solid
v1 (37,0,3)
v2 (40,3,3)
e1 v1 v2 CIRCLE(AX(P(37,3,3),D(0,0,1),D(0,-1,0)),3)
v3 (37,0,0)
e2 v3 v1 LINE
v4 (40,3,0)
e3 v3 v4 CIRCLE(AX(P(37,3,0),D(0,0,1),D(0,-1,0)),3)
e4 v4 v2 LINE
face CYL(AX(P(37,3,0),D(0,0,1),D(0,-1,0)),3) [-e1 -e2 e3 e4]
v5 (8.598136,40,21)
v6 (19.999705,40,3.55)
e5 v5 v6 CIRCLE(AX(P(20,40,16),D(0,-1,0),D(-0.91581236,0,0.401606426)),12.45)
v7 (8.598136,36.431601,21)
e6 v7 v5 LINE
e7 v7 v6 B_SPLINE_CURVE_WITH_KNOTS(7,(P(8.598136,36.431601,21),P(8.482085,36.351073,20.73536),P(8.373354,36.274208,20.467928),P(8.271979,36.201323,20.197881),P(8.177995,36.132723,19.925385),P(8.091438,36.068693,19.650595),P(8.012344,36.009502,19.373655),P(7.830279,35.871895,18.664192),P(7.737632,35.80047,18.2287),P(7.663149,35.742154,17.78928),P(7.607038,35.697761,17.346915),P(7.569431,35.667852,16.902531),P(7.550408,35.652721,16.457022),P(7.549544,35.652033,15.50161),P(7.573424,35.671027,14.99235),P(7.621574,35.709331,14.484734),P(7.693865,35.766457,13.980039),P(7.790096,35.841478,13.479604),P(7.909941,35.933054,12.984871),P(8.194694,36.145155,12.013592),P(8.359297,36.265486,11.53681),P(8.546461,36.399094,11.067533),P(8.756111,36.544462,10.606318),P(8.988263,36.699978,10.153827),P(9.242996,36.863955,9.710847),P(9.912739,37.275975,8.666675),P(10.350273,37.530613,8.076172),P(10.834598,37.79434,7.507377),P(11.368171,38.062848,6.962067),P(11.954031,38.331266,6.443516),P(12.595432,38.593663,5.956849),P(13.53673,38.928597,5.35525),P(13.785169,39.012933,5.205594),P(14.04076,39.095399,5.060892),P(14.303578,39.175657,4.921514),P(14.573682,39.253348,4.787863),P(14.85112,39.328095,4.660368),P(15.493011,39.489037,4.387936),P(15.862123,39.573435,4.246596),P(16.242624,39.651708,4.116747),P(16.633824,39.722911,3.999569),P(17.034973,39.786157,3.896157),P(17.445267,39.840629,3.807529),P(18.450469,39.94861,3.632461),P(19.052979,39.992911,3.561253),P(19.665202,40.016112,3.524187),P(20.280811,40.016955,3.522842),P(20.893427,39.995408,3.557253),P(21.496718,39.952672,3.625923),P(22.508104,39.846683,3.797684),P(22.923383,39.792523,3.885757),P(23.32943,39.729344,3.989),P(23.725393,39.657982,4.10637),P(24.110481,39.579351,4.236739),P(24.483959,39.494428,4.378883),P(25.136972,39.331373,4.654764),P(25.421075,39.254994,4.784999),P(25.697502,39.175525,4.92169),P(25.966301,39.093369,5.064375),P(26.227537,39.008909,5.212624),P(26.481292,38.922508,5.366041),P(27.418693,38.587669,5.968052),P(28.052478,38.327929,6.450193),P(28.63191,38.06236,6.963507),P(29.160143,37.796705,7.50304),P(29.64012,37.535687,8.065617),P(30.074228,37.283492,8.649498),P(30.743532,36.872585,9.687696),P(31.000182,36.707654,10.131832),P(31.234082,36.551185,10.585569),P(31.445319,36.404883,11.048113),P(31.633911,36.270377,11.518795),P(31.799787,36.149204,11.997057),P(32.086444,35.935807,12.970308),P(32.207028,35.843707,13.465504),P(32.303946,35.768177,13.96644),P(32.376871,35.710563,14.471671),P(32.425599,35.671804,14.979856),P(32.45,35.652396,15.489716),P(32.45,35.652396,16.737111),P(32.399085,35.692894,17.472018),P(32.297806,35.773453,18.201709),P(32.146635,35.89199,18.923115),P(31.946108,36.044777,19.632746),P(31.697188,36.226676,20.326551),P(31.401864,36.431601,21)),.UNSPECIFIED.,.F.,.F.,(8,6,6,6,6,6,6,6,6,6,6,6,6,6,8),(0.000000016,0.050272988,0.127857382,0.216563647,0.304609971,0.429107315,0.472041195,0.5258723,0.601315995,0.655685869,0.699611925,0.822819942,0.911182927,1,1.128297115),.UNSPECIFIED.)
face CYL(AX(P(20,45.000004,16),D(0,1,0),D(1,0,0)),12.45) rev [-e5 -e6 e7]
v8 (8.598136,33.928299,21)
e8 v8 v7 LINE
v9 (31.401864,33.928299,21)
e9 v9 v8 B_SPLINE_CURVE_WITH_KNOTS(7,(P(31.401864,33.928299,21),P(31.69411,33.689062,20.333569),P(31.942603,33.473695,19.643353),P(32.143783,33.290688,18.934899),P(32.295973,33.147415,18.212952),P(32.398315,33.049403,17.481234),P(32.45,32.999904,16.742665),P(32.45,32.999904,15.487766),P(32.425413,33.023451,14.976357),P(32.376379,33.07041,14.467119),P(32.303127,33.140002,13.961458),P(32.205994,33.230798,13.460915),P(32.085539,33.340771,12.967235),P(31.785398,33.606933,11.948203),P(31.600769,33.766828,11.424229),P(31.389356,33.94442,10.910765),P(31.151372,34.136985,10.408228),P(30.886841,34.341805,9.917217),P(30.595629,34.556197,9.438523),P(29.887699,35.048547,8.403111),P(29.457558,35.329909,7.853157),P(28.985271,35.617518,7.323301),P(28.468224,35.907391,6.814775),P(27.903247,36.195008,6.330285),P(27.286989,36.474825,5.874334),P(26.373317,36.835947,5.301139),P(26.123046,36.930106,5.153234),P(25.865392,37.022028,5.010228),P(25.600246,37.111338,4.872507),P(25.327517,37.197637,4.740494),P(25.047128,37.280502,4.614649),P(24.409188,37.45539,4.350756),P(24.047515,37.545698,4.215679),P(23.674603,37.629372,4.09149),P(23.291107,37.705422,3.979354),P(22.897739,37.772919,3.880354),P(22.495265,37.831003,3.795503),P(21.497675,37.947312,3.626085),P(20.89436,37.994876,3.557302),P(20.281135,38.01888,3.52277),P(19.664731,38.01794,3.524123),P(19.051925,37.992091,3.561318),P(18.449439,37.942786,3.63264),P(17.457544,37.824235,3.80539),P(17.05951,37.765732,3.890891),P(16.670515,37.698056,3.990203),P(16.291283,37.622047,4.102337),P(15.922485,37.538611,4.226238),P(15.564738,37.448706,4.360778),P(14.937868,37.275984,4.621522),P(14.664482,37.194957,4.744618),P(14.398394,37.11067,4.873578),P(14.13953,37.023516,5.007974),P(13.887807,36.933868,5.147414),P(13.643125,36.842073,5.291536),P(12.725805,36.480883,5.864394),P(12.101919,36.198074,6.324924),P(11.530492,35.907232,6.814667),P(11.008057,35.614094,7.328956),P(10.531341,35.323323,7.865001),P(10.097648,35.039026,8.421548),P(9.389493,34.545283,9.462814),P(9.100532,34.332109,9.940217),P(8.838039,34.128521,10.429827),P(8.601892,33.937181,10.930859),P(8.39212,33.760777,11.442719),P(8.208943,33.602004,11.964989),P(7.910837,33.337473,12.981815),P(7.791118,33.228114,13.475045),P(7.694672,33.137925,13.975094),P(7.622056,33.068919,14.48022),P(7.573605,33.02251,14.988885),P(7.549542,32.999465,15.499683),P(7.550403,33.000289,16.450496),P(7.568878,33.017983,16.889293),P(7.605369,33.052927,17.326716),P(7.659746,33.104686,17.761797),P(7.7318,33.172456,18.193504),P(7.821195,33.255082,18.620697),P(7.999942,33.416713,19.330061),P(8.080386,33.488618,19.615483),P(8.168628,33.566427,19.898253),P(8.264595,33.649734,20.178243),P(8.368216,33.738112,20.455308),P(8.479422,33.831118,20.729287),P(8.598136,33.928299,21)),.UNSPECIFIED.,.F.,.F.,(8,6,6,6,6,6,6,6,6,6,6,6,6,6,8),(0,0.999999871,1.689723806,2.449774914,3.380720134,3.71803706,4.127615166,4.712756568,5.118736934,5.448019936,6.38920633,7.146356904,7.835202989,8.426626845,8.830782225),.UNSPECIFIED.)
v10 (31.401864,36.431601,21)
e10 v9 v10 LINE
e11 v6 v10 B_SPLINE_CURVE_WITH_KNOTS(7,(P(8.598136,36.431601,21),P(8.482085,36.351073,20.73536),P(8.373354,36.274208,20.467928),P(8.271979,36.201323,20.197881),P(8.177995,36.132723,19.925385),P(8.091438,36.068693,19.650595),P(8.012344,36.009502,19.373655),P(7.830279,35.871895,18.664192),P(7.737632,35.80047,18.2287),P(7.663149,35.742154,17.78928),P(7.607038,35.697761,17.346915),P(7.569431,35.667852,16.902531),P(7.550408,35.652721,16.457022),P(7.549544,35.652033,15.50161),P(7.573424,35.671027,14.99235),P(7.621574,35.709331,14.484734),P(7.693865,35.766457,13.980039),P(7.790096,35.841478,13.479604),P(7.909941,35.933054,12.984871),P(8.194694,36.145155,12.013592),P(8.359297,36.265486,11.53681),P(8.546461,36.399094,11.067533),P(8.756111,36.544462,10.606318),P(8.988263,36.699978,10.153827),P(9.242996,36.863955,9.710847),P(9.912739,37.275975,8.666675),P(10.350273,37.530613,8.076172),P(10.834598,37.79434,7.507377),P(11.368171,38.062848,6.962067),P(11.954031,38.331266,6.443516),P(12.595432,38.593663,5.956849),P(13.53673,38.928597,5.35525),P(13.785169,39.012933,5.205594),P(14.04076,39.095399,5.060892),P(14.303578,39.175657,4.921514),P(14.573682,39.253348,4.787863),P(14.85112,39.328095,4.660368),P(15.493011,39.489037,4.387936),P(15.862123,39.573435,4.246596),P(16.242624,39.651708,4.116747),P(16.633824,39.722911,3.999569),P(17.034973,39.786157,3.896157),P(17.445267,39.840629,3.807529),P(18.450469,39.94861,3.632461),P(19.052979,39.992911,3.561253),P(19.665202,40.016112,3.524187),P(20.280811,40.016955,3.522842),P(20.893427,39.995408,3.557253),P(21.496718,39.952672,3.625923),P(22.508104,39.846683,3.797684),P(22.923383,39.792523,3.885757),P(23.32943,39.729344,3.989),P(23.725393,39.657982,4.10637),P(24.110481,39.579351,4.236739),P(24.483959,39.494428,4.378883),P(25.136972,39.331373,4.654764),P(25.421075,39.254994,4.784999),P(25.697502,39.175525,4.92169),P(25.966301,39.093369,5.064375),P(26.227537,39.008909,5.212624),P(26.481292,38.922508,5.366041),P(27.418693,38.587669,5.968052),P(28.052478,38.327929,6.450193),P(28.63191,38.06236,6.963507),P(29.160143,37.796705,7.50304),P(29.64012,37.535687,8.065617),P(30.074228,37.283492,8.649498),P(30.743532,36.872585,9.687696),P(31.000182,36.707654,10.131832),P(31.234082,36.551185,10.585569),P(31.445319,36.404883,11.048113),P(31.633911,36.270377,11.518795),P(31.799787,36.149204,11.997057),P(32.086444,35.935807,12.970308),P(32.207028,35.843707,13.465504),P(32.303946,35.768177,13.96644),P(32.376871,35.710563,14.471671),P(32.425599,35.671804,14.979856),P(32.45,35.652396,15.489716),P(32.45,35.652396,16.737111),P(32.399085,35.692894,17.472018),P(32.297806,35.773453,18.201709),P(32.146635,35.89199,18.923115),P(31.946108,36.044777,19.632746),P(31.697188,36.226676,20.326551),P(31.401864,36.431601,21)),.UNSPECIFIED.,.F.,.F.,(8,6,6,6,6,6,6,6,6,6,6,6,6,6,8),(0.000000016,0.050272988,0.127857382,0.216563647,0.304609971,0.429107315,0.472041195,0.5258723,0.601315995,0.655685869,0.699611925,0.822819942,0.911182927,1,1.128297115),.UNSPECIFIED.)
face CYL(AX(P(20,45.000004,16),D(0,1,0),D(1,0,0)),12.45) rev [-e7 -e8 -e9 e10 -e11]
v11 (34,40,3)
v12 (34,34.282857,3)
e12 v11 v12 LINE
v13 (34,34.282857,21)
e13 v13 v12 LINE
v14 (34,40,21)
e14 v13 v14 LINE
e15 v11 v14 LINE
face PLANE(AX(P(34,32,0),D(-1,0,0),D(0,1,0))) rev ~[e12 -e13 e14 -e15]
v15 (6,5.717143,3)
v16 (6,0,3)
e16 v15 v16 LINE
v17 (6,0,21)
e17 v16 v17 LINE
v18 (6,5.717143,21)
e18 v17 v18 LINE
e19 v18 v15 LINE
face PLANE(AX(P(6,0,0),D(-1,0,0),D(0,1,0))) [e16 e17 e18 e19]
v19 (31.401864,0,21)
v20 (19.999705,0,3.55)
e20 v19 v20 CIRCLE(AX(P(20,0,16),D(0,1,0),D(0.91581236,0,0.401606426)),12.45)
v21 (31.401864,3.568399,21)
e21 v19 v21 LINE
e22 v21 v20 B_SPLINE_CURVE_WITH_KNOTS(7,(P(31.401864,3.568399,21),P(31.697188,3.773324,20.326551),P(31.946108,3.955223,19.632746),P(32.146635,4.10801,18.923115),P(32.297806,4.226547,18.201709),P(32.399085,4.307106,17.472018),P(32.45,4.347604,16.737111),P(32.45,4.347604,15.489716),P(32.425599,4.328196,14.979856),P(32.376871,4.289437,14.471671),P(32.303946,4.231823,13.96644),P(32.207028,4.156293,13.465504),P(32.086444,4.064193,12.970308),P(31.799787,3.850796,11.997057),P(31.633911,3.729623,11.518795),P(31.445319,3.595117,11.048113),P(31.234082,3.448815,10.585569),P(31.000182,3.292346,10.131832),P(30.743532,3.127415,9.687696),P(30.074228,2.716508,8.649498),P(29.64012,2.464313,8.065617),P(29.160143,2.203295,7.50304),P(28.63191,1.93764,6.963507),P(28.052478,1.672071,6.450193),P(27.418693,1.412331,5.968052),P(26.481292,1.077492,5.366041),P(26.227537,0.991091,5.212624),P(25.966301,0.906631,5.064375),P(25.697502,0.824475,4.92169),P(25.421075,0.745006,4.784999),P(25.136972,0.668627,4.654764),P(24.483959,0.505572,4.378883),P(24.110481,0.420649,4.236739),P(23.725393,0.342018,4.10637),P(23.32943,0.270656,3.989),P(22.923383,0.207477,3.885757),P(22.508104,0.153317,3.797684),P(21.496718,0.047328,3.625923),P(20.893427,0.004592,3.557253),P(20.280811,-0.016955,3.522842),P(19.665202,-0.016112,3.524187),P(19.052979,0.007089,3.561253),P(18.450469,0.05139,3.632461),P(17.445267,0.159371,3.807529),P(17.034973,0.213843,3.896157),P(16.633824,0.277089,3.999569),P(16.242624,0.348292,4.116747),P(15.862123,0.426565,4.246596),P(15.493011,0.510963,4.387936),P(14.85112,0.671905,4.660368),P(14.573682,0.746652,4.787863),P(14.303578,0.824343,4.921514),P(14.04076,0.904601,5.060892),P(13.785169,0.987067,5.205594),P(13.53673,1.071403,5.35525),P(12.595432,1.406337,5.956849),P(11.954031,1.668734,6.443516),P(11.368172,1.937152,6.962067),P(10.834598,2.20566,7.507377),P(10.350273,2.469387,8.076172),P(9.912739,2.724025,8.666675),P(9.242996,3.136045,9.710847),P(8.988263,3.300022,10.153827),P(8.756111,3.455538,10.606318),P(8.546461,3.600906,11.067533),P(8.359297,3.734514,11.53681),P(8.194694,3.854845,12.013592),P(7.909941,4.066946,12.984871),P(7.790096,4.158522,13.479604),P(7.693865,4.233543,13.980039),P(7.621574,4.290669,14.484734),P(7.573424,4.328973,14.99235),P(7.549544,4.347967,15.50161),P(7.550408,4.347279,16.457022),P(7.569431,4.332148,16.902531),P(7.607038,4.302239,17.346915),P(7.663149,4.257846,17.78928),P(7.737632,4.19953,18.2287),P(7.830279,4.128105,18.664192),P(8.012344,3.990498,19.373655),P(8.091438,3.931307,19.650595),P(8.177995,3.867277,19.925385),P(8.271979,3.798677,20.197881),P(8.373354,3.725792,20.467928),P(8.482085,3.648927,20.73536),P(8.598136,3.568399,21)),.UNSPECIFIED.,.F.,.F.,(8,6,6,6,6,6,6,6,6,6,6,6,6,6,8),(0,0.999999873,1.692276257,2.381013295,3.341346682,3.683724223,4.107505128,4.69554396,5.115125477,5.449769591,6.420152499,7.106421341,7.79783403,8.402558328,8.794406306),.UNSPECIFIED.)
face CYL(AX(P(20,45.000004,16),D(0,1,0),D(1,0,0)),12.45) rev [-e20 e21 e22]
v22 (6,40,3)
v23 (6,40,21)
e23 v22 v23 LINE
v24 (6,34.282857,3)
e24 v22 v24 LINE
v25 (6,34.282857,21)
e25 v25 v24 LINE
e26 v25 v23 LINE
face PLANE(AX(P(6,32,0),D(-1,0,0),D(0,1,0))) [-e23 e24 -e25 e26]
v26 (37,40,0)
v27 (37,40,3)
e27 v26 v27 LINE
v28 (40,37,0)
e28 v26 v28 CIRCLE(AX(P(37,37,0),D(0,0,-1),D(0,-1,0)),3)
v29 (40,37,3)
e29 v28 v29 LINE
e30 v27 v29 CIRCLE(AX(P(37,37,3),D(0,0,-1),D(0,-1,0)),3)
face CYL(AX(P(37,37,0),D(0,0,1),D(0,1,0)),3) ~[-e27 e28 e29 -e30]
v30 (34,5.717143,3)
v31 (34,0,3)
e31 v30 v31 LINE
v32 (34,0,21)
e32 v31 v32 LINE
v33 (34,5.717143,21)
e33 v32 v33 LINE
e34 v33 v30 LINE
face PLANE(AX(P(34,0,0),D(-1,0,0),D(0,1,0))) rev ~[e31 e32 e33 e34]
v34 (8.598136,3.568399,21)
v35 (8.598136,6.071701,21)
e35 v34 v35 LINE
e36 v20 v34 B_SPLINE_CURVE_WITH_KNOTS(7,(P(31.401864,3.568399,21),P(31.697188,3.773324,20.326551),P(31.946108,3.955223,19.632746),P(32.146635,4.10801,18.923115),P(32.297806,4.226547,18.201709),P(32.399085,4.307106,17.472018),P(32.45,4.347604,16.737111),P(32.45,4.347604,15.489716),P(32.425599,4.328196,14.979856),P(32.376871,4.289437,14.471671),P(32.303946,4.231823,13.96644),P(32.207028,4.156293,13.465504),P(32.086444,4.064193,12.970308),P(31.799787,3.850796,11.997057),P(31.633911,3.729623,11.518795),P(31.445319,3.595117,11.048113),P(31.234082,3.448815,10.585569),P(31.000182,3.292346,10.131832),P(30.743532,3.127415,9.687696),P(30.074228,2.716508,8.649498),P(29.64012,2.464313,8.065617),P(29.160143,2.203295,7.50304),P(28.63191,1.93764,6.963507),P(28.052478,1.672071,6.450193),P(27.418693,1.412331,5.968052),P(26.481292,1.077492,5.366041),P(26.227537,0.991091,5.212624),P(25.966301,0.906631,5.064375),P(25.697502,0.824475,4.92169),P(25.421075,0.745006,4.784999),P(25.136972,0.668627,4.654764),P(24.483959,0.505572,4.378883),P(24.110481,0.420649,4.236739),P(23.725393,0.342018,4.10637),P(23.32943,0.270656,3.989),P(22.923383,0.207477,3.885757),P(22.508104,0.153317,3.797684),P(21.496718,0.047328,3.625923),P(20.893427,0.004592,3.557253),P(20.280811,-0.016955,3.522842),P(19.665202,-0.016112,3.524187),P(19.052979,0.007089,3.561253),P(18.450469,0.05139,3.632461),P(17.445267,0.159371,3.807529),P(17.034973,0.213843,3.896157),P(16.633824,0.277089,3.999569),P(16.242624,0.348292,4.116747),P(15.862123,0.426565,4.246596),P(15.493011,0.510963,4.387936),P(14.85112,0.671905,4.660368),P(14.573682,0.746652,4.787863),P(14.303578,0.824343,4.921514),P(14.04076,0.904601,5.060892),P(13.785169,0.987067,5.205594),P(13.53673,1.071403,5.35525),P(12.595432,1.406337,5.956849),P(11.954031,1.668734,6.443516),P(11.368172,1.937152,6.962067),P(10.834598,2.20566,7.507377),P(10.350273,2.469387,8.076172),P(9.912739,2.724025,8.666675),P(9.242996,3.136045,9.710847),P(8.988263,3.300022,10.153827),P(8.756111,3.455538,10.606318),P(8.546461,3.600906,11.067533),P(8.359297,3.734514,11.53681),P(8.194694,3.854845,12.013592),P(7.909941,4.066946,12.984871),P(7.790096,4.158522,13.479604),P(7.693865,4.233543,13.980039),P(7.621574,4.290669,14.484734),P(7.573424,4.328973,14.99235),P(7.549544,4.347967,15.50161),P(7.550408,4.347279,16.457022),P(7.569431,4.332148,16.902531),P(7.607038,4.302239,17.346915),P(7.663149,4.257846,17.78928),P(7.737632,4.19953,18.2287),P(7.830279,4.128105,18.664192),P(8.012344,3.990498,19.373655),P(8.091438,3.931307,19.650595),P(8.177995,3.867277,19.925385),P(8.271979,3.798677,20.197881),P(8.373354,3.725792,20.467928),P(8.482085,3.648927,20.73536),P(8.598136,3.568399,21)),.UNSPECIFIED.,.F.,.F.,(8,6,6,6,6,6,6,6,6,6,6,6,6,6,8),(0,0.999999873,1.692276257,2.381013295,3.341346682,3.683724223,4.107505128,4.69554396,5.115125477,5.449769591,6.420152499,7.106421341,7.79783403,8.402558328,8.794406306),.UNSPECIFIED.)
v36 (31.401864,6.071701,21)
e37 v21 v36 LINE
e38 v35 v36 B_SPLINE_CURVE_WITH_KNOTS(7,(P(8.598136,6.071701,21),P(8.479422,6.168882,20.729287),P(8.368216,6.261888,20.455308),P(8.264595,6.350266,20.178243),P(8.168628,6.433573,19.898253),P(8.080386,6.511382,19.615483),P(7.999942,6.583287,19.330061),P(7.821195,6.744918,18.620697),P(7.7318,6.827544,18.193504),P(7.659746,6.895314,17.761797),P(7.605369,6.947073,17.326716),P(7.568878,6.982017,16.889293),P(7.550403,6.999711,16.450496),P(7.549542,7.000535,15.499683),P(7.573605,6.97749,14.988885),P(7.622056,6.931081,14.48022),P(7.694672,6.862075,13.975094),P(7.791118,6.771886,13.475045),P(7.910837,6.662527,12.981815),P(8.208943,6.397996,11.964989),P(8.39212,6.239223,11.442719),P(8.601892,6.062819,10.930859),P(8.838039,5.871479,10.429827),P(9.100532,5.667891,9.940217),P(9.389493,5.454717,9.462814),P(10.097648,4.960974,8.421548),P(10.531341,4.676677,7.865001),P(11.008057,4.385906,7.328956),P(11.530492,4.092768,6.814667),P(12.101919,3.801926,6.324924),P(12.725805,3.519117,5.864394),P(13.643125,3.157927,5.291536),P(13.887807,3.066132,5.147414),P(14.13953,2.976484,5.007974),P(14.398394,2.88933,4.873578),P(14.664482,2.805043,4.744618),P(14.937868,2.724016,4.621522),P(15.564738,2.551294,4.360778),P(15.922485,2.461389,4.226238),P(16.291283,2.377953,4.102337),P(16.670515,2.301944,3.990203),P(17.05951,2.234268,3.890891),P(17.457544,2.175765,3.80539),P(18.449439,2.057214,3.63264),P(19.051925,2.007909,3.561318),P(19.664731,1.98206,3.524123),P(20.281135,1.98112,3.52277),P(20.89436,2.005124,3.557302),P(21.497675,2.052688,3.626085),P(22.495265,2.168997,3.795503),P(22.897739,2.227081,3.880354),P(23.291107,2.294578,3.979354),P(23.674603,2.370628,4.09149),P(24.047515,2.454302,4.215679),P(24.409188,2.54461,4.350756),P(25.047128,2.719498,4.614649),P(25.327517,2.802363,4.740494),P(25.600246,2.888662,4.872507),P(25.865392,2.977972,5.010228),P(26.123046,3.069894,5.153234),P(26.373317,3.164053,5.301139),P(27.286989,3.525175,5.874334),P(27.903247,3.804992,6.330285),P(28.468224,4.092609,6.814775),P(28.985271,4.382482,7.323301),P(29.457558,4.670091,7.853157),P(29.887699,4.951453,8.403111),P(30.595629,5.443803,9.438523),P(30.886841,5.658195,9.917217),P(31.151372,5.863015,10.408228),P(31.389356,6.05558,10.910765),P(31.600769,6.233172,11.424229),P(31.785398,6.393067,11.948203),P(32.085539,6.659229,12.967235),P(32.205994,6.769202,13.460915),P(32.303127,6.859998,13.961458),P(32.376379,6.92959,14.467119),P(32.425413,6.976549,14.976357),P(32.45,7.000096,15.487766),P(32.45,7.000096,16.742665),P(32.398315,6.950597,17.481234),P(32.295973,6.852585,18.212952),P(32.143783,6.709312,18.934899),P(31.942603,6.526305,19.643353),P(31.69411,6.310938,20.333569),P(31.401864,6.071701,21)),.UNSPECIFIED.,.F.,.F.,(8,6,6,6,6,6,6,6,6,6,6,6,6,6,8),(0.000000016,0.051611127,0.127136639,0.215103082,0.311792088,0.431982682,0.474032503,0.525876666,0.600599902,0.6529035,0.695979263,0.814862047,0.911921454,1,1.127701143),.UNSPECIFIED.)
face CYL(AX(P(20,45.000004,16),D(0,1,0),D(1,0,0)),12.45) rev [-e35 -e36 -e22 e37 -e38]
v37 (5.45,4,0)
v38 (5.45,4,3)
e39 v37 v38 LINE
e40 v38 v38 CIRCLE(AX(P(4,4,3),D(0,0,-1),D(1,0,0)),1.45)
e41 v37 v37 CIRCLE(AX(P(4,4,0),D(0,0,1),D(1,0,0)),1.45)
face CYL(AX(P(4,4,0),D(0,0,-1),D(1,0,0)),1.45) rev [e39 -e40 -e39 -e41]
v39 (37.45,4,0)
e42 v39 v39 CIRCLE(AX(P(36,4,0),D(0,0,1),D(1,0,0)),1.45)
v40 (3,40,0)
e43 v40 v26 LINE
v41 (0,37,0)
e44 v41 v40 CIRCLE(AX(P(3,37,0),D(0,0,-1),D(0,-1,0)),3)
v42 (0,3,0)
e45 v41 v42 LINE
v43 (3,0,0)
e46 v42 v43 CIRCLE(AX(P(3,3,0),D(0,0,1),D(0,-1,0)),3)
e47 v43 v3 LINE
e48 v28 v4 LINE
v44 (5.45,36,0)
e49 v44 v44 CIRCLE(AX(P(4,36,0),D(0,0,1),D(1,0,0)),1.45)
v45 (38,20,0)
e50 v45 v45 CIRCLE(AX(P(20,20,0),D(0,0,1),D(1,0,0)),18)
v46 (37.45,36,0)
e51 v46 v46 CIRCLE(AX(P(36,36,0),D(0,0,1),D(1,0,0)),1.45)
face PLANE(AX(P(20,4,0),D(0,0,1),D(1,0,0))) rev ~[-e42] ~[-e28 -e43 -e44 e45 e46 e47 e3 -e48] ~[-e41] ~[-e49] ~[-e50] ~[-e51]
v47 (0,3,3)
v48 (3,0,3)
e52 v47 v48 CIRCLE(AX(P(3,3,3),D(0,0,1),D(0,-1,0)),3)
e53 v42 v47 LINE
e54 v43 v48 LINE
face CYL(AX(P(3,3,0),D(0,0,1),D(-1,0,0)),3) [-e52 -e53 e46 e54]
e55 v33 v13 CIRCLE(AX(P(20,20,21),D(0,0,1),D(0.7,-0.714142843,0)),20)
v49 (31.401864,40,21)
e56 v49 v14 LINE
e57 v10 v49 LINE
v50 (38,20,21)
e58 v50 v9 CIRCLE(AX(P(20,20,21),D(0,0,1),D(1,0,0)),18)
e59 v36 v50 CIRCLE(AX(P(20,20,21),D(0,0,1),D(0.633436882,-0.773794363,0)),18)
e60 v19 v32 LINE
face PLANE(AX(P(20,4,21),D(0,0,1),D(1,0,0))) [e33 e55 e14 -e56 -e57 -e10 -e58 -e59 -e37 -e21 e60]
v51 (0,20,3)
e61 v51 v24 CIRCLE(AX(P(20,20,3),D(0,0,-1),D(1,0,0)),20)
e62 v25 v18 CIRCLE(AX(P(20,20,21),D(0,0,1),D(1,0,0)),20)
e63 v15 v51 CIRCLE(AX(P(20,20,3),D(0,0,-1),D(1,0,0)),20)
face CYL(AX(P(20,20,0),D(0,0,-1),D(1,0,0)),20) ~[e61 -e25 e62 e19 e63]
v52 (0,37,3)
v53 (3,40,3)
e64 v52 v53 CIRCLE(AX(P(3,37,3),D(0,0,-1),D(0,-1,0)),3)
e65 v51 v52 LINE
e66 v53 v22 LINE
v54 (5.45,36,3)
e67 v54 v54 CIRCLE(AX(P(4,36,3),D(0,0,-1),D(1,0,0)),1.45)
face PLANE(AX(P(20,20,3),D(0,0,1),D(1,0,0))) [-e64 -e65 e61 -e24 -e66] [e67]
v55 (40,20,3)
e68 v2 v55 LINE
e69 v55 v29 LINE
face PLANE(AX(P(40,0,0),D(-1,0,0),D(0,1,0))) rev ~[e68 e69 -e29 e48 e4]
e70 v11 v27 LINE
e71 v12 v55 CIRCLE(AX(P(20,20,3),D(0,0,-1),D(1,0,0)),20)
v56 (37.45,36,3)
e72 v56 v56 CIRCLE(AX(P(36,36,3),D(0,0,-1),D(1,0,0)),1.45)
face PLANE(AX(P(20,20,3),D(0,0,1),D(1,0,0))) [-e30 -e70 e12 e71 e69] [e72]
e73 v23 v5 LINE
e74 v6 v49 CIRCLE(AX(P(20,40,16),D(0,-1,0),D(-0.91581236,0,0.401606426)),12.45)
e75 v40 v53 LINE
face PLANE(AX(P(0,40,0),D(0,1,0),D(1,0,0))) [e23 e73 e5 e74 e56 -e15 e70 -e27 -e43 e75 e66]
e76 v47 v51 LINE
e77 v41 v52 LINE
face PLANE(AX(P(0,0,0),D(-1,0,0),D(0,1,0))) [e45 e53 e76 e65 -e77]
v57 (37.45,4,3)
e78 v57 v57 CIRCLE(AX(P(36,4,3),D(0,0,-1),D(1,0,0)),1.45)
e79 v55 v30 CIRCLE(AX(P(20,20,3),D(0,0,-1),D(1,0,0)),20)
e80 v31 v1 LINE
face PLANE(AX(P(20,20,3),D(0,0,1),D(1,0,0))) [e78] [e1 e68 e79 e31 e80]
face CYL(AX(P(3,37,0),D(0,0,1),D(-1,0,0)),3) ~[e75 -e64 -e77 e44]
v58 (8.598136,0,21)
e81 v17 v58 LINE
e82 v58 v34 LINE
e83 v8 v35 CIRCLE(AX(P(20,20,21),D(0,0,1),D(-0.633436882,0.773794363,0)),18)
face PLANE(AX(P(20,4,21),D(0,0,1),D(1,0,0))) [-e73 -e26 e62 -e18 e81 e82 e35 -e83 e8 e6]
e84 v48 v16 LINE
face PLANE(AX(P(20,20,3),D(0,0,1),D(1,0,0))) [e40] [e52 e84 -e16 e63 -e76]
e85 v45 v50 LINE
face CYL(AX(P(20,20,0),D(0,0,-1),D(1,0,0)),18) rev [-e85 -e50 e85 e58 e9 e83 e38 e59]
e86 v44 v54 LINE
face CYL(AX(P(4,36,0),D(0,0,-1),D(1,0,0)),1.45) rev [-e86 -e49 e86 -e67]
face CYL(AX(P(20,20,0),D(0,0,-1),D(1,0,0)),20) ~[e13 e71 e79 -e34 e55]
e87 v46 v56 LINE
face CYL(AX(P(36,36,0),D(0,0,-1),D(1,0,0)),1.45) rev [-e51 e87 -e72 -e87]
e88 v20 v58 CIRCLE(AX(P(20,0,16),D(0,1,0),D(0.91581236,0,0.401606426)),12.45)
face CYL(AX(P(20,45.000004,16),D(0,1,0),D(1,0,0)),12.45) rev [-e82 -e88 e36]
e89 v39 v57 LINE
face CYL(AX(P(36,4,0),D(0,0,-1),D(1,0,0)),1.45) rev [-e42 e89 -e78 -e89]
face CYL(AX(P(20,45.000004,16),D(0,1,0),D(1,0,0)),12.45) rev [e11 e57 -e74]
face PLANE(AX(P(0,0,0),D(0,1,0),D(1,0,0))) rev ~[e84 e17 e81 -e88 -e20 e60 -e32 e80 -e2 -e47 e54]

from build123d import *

# Parameters (mm, degrees)
CYLINDER002_R          = 12.45
CYLINDER002_DEPTH      = 55
CYLINDER002_ROLL_ANGLE = 90
CYLINDER005_R          = 18
CYLINDER005_DEPTH      = 39
BOX001_W               = 28
BOX001_H               = 8
BOX001_DEPTH           = 21
BOX001001_W            = 28
BOX001001_H            = 8
BOX001001_DEPTH        = 21
CYLINDER001_R          = 18
CYLINDER001_DEPTH      = 10
CYLINDER_R             = 1.45
CYLINDER_DEPTH         = 10
ARRAY_X_COUNT          = 2
ARRAY_X_PITCH          = 32
ARRAY_Y_COUNT          = 2
ARRAY_Y_PITCH          = 32
BOX_W                  = 40
BOX_H                  = 40
BOX_DEPTH              = 3
FILLET_R               = 3
CYLINDER004_R          = 18
CYLINDER004_DEPTH      = 21
CYLINDER003_R          = 20
CYLINDER003_DEPTH      = 21


with BuildPart() as cylinder002:
    # Cylinder002 → Cylinder002 (new body)
    with BuildSketch(Plane.XY):
        Circle(CYLINDER002_R)
    extrude(amount=CYLINDER002_DEPTH)


with BuildPart() as cylinder002_1:
    # Cylinder002 roll: moved
    add(cylinder002.part.rotate(Axis((0, 0, 0), (1, 0, 0)), CYLINDER002_ROLL_ANGLE))


with BuildPart() as cylinder002_2:
    # Cylinder002 placement: moved
    add(cylinder002_1.part.moved(Location((20, 45.000004, 16))))


with BuildPart() as cylinder005:
    # Cylinder005 → Cylinder005 (new body)
    with BuildSketch(Plane(origin=(20, 20, -6), x_dir=(1, 0, 0), z_dir=(0, 0, 1))):
        Circle(CYLINDER005_R)
    extrude(amount=CYLINDER005_DEPTH)


with BuildPart() as box001:
    # Box001 → Box001 (new body)
    with BuildSketch(Plane(origin=(6, 0, 0), x_dir=(1, 0, 0), z_dir=(0, 0, 1))):
        with Locations((14, 4)):
            Rectangle(BOX001_W, BOX001_H)
    extrude(amount=BOX001_DEPTH)


with BuildPart() as cut005:
    # Box001001 → Box001001 (new body)
    with BuildSketch(Plane(origin=(6, 32, 0), x_dir=(1, 0, 0), z_dir=(0, 0, 1))):
        with Locations((14, 4)):
            Rectangle(BOX001001_W, BOX001001_H)
    extrude(amount=BOX001001_DEPTH)

    # Fusion001: union Box001
    add(box001.part)

    # Cut004: cut Cylinder005
    add(cylinder005.part, mode=Mode.SUBTRACT)

    # Cut005: cut Cylinder002
    add(cylinder002_2.part, mode=Mode.SUBTRACT)


with BuildPart() as cylinder001:
    # Cylinder001 → Cylinder001 (new body)
    with BuildSketch(Plane(origin=(20, 20, 0), x_dir=(1, 0, 0), z_dir=(0, 0, 1))):
        Circle(CYLINDER001_R)
    extrude(amount=CYLINDER001_DEPTH)


with BuildPart() as array:
    # Cylinder → Cylinder (new body)
    with BuildSketch(Plane.XY):
        Circle(CYLINDER_R)
    extrude(amount=CYLINDER_DEPTH)

    # Array X: Array ×2


with BuildPart() as array_1:
    add(array.part)
    with Locations(*[(i * ARRAY_X_PITCH, 0, 0) for i in range(1, ARRAY_X_COUNT)]):
        add(array.part)

    # Array Y: Array ×2


with BuildPart() as array_2:
    add(array_1.part)
    with Locations(*[(0, i * ARRAY_Y_PITCH, 0) for i in range(1, ARRAY_Y_COUNT)]):
        add(array_1.part)


with BuildPart() as array_3:
    # Array placement: moved
    add(array_2.part.moved(Location((4, 4, 0))))


with BuildPart() as fillet_body:
    # Box → Box (new body)
    with BuildSketch(Plane.XY):
        with Locations((20, 20)):
            Rectangle(BOX_W, BOX_H)
    extrude(amount=BOX_DEPTH)

    # Cut: cut Array
    add(array_3.part, mode=Mode.SUBTRACT)

    # Cut001: cut Cylinder001
    add(cylinder001.part, mode=Mode.SUBTRACT)

    # Fillet
    fillet_edges = [fillet_body.edges().sort_by_distance(p)[0] for p in [
        (0, 0, 1.5),
        (0, 40, 1.5),
        (40, 0, 1.5),
        (40, 40, 1.5),
    ]]
    fillet(fillet_edges, radius=FILLET_R)


with BuildPart() as cylinder004:
    # Cylinder004 → Cylinder004 (new body)
    with BuildSketch(Plane(origin=(20, 20, 0), x_dir=(1, 0, 0), z_dir=(0, 0, 1))):
        Circle(CYLINDER004_R)
    extrude(amount=CYLINDER004_DEPTH)


with BuildPart() as fusion002:
    # Cylinder003 → Cylinder003 (new body)
    with BuildSketch(Plane(origin=(20, 20, 0), x_dir=(1, 0, 0), z_dir=(0, 0, 1))):
        Circle(CYLINDER003_R)
    extrude(amount=CYLINDER003_DEPTH)

    # Cut002: cut Cylinder004
    add(cylinder004.part, mode=Mode.SUBTRACT)

    # Fusion: union Fillet body
    add(fillet_body.part)

    # Cut003: cut Cylinder002
    add(cylinder002_2.part, mode=Mode.SUBTRACT)

    # Fusion002: union Cut005
    add(cut005.part)


solid = fusion002.part
